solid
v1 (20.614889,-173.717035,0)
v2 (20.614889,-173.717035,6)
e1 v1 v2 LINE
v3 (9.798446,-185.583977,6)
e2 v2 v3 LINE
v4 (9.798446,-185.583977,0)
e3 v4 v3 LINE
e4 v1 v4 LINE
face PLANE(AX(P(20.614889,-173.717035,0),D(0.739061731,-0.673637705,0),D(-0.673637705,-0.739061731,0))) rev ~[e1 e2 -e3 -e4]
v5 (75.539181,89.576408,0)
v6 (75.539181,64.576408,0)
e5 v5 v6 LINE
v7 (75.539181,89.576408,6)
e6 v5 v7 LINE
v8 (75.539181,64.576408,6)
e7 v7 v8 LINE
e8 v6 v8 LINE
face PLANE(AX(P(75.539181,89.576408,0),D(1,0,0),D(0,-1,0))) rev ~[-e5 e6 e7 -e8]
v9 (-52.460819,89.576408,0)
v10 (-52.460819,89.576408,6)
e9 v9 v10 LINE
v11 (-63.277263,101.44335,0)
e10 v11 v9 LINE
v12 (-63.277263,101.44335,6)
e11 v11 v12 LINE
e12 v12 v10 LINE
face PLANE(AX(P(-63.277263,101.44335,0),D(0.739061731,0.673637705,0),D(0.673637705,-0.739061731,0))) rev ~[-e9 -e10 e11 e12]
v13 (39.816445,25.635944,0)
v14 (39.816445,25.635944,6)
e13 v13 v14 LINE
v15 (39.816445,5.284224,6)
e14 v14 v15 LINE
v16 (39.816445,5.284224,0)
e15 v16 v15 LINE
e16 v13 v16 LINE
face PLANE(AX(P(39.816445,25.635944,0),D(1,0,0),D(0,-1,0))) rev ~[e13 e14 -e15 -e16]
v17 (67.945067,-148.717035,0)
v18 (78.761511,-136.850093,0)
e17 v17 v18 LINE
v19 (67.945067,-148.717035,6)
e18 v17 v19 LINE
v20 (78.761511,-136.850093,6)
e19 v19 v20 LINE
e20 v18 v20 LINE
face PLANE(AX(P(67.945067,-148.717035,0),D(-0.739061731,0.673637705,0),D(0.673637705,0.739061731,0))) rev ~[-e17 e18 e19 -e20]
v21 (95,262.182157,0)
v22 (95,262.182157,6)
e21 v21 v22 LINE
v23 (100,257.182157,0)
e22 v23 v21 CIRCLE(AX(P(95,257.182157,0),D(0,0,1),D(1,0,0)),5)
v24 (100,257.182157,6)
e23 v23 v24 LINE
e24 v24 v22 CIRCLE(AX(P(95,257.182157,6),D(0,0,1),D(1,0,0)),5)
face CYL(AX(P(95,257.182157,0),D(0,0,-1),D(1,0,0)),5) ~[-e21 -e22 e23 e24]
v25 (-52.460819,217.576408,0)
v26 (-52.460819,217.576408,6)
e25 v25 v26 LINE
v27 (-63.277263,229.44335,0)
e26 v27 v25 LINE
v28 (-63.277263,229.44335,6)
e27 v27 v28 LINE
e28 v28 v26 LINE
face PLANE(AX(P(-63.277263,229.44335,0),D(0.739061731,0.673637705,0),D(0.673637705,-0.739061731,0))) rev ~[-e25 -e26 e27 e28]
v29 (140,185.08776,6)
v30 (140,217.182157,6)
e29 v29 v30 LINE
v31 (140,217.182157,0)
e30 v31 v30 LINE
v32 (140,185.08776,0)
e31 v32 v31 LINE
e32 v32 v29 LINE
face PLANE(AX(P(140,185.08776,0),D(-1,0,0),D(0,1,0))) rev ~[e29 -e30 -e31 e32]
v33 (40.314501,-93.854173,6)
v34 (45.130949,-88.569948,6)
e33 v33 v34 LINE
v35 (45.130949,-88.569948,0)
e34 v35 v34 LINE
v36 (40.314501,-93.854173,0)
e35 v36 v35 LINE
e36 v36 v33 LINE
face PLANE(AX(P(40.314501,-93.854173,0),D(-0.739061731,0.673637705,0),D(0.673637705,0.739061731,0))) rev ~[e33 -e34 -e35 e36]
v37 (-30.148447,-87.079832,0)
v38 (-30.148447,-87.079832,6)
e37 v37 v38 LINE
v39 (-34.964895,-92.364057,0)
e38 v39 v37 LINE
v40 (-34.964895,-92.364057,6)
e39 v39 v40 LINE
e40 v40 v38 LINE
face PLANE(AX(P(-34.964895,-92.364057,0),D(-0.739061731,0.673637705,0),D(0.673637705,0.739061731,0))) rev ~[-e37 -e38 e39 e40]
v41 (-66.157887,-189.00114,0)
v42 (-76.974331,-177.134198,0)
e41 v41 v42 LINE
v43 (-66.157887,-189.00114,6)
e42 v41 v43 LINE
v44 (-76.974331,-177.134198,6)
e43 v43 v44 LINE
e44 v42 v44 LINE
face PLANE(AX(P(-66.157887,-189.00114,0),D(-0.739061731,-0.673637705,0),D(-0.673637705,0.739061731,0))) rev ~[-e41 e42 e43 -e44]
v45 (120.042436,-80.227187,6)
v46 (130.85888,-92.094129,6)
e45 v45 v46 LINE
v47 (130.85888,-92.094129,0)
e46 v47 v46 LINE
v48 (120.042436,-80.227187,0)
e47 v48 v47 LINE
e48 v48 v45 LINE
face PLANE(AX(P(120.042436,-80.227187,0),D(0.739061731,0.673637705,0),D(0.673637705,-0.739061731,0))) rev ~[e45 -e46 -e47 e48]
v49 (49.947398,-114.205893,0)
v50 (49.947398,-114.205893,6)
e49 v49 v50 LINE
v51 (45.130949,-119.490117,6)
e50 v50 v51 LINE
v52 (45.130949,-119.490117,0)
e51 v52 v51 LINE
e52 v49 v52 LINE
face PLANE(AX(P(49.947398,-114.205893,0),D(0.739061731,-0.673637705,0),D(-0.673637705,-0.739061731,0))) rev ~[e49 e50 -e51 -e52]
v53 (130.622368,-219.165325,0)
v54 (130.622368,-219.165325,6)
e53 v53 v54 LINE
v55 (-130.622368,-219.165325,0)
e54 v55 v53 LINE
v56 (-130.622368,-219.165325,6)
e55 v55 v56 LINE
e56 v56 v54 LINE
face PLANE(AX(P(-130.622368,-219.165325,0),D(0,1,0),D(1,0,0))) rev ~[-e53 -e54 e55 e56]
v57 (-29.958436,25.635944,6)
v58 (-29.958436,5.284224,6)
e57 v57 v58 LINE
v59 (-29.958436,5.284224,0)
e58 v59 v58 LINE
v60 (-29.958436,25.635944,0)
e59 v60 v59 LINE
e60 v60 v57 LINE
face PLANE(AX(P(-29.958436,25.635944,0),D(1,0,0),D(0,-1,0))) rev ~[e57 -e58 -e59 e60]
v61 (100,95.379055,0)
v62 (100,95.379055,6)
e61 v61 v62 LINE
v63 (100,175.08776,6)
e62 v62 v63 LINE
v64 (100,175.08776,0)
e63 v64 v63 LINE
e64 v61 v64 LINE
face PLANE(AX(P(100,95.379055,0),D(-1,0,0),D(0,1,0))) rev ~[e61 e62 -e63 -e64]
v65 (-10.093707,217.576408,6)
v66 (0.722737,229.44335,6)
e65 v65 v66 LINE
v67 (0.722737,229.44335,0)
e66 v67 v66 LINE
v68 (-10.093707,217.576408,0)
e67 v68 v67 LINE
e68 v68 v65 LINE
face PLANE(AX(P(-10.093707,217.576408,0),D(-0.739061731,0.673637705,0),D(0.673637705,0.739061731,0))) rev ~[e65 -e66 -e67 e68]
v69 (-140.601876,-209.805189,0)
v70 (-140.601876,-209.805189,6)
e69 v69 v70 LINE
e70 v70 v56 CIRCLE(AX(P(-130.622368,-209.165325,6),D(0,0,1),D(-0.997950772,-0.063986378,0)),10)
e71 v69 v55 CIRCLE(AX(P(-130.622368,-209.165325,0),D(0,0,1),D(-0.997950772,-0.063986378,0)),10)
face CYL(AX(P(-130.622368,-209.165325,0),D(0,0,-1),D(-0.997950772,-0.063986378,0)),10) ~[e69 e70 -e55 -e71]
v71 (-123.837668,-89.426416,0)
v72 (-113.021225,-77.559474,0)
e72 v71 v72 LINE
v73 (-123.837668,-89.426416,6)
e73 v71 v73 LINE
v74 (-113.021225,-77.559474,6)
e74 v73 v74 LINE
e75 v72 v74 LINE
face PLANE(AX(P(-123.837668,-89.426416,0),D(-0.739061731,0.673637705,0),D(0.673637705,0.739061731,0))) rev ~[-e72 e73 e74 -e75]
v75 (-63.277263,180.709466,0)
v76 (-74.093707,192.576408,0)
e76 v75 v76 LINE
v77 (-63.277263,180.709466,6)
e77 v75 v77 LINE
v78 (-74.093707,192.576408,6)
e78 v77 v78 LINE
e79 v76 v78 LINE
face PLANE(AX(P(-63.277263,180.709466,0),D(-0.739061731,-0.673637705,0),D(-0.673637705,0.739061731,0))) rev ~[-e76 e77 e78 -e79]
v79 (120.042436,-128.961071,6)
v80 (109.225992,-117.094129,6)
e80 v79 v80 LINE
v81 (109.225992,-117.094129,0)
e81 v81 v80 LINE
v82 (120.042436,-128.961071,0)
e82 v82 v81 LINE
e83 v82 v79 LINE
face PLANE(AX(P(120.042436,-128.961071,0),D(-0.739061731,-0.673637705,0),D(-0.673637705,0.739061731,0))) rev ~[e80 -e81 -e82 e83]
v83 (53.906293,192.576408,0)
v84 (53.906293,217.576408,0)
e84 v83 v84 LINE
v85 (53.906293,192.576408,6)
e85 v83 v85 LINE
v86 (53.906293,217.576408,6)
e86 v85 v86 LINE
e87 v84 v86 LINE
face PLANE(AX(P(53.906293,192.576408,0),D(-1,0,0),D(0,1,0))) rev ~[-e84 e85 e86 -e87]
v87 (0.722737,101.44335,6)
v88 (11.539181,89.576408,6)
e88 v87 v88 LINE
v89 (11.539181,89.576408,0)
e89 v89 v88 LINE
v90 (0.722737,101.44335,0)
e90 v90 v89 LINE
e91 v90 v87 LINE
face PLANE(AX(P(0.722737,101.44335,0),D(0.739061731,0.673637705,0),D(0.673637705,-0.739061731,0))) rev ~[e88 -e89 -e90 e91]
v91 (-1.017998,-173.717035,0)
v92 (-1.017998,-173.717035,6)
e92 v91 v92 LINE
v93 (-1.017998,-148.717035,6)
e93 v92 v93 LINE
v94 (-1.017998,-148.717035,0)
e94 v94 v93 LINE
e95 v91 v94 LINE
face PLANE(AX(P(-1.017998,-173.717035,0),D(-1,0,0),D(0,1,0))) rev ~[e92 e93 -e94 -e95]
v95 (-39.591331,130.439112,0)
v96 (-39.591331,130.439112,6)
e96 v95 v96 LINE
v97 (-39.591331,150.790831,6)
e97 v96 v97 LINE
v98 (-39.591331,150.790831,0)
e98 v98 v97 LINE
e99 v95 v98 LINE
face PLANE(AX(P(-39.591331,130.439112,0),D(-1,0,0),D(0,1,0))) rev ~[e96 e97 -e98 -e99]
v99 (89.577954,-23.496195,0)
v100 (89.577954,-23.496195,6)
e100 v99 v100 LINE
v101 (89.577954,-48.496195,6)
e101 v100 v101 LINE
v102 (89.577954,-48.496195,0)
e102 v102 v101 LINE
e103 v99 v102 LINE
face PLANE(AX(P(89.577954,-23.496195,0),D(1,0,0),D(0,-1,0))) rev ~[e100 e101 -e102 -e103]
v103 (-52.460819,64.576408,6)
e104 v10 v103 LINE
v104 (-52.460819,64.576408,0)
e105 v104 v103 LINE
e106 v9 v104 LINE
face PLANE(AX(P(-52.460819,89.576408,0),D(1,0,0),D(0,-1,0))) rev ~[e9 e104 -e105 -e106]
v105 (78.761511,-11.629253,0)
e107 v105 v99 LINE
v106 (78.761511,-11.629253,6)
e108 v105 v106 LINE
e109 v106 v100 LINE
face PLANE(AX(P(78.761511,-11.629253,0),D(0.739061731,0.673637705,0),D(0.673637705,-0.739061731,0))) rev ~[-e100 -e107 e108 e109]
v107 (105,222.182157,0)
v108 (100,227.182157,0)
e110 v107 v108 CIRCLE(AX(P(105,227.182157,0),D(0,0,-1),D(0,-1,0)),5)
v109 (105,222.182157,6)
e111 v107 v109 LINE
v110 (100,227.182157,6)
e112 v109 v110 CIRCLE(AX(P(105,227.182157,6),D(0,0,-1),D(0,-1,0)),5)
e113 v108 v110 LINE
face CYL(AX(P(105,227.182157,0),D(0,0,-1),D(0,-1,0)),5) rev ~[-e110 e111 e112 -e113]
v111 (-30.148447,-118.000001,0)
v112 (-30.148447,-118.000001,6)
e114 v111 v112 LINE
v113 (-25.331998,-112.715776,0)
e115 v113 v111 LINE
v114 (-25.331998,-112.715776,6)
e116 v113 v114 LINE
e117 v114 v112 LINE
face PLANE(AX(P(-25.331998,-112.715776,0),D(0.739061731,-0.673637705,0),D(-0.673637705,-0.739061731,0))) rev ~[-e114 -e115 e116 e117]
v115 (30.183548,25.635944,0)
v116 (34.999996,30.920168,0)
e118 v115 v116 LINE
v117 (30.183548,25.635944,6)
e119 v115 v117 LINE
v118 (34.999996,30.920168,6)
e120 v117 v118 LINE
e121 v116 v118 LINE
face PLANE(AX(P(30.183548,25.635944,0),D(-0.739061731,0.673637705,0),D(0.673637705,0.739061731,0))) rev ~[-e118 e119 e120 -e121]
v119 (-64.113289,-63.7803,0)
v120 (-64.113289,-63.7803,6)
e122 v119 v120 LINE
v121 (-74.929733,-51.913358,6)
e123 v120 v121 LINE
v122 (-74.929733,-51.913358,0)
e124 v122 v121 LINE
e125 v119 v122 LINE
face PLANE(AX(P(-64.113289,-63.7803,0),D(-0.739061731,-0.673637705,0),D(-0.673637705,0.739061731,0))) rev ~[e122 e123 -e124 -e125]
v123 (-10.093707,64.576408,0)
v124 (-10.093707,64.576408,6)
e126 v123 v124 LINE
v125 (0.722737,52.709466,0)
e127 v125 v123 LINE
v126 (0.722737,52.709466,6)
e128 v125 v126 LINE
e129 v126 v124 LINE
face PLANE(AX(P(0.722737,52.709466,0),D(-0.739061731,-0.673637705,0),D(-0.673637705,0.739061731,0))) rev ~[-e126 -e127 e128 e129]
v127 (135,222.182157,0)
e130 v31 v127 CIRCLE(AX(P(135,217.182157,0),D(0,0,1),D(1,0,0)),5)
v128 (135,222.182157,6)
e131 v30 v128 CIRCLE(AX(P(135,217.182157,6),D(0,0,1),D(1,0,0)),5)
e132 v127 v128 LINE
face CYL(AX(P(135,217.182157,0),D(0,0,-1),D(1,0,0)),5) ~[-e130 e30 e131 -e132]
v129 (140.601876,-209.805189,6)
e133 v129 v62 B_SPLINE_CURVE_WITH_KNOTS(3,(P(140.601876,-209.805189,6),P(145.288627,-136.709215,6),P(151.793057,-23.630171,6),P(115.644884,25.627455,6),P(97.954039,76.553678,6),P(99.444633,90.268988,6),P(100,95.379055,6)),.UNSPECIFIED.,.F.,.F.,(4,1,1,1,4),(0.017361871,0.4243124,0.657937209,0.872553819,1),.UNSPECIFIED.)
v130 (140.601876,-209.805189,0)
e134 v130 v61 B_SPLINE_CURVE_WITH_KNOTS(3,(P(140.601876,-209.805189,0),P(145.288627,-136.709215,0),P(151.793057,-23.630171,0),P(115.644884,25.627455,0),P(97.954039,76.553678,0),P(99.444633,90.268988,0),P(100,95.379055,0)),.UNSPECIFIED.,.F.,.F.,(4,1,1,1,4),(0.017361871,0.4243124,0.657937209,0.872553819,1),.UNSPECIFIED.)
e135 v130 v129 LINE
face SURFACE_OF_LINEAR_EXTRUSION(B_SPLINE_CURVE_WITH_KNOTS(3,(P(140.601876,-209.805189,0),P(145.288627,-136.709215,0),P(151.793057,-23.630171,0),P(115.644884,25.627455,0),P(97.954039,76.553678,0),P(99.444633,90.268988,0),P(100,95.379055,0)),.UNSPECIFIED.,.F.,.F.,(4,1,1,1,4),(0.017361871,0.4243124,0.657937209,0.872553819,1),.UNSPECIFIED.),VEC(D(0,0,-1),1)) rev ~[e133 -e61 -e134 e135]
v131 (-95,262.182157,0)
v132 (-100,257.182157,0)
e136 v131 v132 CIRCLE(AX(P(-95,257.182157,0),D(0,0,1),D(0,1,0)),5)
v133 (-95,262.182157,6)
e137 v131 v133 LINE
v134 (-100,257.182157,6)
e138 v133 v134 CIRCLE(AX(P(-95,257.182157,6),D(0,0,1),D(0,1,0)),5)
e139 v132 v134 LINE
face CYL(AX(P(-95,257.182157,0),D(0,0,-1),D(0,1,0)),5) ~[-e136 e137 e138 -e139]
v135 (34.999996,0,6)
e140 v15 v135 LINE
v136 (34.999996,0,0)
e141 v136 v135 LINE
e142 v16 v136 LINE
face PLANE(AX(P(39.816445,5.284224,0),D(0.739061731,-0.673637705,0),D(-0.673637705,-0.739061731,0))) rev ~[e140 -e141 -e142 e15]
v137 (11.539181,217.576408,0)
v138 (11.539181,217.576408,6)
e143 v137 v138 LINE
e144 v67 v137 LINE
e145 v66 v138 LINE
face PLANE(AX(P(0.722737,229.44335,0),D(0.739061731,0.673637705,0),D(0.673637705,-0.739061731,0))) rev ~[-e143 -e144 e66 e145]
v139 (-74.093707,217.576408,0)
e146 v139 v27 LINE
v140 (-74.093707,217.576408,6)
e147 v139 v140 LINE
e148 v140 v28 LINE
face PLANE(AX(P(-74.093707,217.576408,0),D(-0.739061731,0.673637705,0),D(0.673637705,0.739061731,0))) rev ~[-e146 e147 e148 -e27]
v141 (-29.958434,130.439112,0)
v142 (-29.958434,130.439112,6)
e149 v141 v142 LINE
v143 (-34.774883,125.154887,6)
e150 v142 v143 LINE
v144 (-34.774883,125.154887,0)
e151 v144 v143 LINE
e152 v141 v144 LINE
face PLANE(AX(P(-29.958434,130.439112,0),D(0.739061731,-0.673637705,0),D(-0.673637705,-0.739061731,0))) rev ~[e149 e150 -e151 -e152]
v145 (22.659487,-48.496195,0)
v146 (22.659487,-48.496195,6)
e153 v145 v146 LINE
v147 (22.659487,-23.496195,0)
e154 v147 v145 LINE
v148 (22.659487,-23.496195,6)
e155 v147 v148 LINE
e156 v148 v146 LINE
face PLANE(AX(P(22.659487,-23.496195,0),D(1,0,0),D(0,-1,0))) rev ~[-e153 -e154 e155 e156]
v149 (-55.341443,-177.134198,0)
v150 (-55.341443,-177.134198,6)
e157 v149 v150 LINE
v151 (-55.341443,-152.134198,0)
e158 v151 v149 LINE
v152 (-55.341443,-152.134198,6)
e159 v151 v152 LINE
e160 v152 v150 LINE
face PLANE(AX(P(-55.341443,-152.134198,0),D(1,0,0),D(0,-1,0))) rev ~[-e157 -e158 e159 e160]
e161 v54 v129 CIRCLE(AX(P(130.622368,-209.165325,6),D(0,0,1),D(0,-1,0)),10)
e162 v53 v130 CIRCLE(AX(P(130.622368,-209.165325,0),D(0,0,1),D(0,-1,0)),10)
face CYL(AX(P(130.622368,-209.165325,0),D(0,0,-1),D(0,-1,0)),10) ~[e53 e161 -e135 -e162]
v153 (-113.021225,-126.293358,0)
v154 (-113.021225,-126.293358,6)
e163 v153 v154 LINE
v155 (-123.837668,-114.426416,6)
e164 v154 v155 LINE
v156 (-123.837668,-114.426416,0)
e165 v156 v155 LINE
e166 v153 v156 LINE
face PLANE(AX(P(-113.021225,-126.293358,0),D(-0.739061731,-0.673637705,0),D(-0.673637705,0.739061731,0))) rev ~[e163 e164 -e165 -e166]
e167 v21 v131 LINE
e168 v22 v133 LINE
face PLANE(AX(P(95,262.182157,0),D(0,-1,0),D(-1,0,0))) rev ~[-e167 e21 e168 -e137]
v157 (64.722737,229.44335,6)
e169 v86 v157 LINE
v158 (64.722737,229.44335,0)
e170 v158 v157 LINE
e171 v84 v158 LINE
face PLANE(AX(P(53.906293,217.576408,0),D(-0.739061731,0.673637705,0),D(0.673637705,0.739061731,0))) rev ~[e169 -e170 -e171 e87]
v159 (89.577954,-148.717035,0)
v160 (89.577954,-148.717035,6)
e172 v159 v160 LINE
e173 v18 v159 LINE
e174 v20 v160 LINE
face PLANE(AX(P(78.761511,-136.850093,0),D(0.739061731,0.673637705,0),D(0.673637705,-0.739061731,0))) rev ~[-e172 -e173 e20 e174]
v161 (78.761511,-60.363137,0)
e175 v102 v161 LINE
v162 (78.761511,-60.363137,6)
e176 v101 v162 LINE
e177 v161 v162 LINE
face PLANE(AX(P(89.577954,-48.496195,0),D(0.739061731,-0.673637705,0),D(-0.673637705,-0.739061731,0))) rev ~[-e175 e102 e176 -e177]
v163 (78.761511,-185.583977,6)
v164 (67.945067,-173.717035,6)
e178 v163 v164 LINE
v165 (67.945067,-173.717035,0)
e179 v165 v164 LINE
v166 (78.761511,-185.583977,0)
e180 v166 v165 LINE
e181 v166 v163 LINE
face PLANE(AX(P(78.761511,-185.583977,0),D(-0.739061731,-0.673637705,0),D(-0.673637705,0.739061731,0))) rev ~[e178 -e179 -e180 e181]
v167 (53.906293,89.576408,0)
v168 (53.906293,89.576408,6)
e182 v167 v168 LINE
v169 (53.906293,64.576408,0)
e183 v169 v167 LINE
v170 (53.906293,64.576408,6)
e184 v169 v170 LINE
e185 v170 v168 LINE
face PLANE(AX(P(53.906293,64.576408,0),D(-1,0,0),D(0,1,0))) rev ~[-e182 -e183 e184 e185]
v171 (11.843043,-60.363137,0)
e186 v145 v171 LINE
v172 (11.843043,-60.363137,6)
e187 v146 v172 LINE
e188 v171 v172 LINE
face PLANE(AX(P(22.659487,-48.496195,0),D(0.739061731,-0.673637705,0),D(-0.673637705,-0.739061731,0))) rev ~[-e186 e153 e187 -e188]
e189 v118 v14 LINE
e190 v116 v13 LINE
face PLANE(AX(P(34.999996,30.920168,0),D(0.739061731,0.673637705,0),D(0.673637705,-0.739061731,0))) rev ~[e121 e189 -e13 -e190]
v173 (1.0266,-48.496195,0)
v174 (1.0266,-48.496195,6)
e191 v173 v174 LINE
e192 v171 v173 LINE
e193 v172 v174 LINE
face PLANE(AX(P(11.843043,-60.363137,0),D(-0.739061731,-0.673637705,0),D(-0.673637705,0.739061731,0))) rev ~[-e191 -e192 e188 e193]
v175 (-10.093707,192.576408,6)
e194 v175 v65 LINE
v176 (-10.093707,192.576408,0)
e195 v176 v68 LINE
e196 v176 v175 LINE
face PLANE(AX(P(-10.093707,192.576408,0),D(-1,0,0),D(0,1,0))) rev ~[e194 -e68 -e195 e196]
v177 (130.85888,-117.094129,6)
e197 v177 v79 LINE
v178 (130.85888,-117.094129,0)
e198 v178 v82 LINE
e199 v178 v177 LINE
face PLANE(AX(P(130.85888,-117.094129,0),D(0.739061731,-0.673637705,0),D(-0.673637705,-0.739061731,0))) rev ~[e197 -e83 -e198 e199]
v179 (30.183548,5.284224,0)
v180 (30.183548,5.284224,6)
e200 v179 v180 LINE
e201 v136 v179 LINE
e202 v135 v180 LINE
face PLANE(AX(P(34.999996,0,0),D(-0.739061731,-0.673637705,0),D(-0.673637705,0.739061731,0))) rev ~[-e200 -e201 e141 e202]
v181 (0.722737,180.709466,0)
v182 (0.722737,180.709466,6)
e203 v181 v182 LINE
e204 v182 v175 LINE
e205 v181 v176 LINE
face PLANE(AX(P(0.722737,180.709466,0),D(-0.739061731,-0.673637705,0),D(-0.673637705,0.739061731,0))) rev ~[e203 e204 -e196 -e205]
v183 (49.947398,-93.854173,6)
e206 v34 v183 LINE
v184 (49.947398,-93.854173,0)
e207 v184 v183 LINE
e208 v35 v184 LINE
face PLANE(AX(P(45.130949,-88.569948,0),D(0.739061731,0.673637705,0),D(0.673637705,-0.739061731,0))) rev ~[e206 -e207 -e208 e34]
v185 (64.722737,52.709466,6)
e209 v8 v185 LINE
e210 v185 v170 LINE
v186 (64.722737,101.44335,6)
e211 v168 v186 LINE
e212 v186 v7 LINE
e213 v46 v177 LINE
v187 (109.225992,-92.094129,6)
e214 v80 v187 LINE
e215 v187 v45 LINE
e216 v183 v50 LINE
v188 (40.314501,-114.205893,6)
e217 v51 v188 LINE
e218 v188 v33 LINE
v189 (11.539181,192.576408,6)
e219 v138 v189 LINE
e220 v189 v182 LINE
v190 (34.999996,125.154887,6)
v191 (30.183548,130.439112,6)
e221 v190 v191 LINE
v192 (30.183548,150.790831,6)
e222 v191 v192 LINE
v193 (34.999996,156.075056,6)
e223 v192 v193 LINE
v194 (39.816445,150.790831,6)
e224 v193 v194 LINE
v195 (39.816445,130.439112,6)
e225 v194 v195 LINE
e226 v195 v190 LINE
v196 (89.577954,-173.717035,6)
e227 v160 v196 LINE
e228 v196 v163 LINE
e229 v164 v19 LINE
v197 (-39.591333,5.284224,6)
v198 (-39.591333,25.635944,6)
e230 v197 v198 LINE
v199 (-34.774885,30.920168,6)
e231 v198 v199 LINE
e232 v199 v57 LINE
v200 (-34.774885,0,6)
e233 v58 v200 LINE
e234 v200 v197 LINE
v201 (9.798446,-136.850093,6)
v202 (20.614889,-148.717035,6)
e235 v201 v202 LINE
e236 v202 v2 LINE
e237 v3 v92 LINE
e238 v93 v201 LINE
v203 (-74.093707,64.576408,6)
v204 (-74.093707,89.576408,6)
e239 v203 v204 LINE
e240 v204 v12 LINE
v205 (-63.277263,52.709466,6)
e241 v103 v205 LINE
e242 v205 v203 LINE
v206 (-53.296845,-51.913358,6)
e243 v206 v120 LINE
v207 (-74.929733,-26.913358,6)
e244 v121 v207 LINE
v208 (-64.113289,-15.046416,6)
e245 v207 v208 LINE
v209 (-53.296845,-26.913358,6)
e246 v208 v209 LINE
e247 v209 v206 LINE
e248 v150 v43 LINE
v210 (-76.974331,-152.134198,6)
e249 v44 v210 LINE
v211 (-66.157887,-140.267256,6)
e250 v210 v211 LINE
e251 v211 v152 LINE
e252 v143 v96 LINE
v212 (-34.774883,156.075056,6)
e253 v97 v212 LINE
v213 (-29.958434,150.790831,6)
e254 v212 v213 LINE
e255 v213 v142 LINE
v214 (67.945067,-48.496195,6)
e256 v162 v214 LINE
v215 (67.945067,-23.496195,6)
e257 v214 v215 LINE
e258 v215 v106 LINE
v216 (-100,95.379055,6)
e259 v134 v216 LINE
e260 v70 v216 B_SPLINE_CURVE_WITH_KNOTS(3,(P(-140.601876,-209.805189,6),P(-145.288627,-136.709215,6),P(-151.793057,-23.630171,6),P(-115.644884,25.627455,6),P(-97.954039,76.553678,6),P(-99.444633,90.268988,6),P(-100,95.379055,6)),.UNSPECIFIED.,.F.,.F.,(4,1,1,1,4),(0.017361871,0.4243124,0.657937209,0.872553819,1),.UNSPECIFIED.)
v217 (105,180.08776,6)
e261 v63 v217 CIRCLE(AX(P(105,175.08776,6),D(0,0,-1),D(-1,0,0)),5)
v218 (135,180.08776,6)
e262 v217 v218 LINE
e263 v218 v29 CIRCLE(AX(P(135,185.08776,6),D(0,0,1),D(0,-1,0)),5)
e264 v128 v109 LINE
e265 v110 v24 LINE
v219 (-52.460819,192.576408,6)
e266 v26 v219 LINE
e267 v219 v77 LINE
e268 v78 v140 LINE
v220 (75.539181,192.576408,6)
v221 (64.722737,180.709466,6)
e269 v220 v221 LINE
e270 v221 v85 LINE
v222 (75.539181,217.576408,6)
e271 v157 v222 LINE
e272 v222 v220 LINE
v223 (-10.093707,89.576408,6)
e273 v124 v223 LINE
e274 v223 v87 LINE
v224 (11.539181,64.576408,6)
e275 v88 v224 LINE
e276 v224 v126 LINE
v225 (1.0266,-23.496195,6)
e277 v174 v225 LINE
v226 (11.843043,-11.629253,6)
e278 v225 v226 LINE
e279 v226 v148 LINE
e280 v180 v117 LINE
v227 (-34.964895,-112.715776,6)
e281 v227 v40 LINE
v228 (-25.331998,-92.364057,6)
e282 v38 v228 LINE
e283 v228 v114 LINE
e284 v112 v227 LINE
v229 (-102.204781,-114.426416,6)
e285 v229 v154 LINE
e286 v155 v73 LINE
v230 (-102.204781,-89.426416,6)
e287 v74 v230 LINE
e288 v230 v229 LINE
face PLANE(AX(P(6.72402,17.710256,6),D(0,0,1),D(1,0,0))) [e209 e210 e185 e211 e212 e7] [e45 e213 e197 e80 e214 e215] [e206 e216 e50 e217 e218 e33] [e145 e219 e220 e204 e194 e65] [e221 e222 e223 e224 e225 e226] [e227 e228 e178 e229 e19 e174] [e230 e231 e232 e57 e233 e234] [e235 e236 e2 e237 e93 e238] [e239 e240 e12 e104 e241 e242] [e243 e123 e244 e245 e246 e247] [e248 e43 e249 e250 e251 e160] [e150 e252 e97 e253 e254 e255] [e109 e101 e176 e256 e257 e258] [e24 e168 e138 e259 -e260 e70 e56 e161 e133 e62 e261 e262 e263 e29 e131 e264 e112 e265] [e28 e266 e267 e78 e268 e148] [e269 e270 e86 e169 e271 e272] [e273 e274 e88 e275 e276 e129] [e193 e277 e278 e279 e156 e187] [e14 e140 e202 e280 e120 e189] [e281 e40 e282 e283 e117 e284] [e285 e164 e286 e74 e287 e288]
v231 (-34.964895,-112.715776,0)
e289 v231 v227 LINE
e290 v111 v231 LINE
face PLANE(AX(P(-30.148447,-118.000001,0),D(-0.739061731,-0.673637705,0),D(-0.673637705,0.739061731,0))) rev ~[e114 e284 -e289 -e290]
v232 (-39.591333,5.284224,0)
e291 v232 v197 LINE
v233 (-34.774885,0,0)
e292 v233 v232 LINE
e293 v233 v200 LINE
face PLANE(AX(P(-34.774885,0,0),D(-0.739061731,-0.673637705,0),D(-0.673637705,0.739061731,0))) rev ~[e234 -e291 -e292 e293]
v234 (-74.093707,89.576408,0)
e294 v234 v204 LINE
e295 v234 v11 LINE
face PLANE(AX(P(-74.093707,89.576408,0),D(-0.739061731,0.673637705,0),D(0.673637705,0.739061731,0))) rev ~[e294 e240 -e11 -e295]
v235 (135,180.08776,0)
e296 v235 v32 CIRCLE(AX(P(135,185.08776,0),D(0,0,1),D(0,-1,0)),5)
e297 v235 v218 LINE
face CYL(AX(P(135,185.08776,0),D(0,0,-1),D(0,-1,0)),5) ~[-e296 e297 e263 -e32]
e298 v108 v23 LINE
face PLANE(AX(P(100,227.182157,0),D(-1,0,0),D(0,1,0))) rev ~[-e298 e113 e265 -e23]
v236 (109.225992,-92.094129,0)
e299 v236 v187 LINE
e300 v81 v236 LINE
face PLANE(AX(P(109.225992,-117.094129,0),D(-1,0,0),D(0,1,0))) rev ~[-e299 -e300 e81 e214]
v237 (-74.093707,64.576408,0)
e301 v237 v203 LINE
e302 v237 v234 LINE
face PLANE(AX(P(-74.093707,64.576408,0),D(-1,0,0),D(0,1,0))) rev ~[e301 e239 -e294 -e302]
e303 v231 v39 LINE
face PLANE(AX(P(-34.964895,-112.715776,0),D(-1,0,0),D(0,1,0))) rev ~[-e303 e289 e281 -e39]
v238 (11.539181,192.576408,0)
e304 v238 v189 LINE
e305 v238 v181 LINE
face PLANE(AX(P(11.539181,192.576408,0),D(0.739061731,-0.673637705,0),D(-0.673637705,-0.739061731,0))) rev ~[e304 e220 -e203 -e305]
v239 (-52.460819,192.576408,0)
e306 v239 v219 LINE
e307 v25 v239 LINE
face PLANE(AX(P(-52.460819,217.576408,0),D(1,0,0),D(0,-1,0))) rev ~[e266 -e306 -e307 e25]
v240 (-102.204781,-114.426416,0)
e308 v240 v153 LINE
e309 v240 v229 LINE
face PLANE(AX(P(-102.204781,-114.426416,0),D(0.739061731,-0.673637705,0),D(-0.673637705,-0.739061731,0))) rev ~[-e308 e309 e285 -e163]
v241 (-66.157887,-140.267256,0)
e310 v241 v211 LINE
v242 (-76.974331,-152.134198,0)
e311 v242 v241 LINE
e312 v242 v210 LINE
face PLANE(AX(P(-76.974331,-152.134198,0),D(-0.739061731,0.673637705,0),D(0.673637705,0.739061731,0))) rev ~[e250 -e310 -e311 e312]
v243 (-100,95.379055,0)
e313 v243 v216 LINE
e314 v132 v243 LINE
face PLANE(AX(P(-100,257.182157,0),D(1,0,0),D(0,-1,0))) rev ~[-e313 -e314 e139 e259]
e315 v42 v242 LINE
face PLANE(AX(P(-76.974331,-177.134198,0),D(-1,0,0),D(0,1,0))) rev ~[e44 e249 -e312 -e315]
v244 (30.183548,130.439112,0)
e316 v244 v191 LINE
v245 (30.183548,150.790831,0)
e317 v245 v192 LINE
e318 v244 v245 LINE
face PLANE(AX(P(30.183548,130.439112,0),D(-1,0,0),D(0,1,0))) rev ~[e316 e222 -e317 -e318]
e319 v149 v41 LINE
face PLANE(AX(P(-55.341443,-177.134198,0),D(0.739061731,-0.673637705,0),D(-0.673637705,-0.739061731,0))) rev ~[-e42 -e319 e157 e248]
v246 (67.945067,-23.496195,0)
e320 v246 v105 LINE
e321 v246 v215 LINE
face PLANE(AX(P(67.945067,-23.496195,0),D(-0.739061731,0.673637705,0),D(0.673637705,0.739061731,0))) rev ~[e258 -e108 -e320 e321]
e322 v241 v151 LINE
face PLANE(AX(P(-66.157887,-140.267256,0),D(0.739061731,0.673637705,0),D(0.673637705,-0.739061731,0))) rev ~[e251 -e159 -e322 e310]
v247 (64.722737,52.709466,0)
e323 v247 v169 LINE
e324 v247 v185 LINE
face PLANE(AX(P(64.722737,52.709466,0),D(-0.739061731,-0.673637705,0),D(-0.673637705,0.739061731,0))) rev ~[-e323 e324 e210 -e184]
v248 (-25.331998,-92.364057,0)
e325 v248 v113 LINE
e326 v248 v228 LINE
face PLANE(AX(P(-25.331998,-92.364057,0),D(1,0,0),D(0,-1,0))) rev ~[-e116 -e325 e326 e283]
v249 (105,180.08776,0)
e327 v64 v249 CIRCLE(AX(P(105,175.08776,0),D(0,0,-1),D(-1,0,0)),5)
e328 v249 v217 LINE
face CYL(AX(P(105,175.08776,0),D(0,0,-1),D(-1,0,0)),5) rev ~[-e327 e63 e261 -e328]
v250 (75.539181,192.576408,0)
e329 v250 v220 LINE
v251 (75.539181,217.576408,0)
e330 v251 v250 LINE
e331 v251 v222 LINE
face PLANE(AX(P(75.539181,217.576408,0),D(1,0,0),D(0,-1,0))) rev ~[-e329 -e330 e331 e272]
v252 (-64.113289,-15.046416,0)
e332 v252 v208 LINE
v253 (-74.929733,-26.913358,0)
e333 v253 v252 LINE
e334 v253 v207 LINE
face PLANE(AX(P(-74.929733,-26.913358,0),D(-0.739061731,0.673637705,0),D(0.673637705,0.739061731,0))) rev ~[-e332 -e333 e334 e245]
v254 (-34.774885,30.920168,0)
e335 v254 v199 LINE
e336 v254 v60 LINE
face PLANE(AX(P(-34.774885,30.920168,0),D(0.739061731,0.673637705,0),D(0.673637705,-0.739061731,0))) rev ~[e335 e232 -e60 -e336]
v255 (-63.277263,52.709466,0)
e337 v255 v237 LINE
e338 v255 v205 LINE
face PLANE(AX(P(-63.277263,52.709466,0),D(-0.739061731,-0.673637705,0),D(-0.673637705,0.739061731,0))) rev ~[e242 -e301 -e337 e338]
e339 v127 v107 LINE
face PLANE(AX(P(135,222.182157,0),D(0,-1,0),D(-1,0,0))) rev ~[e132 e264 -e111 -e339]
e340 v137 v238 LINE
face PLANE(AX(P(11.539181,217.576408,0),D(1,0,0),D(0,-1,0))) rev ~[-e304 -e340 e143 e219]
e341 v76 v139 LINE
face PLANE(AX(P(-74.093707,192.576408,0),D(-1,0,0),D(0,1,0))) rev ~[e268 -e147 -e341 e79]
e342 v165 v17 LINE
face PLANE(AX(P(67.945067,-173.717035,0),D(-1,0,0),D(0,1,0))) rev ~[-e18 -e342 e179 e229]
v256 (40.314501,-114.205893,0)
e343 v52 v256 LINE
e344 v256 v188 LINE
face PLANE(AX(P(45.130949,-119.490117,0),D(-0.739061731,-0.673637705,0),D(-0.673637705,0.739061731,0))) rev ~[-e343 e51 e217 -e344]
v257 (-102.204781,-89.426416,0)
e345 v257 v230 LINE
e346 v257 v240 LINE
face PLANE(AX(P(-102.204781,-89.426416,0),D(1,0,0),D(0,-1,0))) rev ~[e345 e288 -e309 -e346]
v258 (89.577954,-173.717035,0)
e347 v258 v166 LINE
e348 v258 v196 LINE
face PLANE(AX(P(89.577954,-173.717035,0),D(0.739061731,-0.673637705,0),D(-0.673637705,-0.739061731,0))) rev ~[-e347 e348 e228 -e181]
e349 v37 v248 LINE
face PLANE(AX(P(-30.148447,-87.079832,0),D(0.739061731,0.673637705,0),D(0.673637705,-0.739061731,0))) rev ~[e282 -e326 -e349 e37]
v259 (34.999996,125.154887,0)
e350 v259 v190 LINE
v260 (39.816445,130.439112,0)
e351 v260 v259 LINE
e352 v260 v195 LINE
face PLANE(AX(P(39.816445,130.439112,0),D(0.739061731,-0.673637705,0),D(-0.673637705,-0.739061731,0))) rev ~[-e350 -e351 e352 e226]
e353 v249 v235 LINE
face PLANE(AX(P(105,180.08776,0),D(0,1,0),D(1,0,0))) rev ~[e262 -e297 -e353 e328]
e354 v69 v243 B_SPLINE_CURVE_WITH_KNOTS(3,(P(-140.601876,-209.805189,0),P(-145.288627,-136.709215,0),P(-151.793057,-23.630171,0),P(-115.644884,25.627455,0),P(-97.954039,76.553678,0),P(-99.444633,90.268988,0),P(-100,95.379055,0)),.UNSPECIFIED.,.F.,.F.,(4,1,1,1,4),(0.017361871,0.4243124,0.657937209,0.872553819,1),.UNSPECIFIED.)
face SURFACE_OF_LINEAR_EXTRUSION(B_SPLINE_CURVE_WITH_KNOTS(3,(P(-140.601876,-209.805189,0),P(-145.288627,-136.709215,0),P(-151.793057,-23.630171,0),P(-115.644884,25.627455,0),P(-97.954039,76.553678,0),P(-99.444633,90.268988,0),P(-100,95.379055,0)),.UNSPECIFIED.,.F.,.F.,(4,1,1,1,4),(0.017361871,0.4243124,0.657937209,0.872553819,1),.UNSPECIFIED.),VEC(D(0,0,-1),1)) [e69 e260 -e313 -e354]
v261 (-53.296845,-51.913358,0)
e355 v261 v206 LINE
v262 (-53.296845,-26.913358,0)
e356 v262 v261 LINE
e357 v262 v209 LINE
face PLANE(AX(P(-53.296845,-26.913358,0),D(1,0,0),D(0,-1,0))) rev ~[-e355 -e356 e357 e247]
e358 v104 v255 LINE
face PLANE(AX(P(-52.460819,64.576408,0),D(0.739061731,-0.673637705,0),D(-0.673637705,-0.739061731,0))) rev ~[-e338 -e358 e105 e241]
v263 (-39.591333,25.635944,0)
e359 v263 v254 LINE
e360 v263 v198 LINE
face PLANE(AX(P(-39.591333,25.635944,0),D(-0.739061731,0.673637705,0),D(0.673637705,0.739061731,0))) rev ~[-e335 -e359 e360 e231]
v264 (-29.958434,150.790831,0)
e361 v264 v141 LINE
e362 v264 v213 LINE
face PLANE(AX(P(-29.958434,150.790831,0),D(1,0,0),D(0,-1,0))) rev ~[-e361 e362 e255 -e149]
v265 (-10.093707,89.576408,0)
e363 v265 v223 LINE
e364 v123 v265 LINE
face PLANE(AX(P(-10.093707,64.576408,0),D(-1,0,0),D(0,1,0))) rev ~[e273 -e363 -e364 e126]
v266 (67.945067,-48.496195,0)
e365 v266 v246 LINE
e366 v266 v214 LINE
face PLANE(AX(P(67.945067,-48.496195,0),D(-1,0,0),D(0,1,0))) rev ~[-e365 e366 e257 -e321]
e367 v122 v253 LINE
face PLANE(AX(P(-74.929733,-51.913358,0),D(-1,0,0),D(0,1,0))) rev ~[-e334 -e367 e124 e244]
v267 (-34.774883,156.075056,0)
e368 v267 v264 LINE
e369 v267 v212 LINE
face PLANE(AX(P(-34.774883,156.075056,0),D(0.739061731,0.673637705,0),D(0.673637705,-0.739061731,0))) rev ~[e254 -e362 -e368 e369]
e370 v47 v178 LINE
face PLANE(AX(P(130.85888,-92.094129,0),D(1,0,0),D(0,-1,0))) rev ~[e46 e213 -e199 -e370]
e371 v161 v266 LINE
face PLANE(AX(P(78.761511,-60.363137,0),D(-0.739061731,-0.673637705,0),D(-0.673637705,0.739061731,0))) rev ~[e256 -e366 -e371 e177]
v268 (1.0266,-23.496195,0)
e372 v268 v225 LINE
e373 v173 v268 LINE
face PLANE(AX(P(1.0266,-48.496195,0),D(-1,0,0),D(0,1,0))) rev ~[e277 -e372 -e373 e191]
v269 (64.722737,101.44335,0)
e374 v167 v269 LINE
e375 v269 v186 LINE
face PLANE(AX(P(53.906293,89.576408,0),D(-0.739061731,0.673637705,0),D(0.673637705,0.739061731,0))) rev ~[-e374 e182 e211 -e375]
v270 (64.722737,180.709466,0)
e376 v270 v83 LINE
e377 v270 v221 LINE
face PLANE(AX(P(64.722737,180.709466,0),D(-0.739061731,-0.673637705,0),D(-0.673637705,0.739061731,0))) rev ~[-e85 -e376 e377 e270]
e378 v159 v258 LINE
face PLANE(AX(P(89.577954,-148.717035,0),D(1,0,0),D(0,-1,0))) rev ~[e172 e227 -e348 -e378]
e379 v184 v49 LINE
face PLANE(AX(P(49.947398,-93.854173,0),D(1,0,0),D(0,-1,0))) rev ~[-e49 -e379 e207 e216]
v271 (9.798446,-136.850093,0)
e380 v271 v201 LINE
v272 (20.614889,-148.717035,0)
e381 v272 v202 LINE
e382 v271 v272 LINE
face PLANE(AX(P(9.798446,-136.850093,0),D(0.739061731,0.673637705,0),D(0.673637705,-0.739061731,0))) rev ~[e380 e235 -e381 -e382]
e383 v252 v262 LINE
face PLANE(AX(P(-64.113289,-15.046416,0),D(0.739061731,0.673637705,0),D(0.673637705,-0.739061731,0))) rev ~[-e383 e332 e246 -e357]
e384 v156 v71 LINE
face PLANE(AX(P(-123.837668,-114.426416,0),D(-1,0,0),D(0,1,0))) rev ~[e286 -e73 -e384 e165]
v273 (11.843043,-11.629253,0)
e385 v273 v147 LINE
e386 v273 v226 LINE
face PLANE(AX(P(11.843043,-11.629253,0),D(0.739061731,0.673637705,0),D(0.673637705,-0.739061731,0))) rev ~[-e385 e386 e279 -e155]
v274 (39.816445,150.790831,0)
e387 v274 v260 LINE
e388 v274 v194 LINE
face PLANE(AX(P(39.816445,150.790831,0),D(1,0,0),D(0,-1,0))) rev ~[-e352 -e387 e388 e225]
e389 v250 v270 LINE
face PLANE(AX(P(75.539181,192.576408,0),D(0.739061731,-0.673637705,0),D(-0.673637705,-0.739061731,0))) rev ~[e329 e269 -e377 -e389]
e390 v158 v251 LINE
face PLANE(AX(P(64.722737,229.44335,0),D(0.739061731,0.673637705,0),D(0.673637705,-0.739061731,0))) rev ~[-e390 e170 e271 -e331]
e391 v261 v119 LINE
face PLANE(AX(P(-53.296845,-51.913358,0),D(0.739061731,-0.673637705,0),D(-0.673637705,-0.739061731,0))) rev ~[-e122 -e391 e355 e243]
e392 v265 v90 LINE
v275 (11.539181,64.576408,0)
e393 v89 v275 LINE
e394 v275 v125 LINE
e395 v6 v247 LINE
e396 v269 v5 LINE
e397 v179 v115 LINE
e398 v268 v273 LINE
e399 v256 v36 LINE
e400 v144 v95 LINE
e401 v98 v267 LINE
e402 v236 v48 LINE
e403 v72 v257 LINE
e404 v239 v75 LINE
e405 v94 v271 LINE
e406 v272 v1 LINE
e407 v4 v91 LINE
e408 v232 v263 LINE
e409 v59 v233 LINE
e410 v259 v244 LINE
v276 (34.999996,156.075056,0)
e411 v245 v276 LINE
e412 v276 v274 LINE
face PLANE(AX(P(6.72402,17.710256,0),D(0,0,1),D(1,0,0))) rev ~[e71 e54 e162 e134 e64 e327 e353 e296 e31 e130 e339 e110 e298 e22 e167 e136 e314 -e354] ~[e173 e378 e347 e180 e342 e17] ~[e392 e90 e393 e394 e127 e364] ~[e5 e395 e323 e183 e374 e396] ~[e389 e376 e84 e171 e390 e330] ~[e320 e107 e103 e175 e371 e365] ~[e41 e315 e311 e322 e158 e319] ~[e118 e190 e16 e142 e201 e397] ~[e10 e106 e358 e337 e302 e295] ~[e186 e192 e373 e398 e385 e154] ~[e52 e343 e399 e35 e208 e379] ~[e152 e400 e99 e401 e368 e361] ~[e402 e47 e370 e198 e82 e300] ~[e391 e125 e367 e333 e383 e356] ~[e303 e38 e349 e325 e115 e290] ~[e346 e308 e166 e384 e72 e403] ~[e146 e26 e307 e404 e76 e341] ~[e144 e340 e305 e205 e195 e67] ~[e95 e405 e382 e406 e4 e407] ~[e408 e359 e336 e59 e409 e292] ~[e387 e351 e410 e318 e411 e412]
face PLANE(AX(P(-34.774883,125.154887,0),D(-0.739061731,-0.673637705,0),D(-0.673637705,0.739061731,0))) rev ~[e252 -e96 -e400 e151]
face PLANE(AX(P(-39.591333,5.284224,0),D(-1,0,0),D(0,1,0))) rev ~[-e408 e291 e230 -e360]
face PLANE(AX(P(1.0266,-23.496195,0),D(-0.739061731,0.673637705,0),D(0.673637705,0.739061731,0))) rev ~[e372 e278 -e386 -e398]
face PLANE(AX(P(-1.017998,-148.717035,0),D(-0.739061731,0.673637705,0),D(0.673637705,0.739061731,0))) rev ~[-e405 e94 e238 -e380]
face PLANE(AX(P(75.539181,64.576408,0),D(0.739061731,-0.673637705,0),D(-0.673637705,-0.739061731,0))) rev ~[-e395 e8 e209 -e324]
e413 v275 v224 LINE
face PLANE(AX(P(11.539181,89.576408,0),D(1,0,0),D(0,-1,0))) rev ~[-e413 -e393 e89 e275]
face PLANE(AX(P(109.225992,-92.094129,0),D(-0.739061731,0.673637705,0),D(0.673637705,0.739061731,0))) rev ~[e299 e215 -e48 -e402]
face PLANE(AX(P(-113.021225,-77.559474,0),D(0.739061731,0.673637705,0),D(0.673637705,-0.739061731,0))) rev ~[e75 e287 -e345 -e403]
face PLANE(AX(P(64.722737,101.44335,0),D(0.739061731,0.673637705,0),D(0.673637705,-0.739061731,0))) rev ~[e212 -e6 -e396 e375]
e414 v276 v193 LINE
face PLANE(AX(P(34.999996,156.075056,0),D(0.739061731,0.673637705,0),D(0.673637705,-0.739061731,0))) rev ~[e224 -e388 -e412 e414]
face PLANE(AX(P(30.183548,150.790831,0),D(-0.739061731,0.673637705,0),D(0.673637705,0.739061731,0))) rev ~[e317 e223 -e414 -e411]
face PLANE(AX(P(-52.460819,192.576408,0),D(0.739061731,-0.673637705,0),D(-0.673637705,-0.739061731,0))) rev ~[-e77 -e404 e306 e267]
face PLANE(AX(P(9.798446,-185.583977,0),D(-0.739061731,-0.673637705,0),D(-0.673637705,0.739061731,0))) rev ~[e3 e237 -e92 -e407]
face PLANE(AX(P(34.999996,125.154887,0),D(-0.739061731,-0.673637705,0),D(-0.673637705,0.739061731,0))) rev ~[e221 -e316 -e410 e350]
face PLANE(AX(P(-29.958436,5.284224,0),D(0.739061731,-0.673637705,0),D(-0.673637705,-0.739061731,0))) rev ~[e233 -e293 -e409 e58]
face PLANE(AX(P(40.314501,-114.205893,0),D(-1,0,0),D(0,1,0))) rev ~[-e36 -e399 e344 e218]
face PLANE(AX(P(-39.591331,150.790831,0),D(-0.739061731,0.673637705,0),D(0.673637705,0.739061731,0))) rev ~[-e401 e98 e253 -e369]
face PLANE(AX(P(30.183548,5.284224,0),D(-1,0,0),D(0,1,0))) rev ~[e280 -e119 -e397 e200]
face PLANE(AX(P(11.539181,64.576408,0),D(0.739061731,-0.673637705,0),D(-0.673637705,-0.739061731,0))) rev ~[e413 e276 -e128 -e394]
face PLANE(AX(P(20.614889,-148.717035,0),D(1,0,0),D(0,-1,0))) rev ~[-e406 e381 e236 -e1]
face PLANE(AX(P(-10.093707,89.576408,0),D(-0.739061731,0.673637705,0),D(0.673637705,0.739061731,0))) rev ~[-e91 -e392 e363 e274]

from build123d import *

# Parameters (mm, degrees)
F1_DEPTH = 6


with BuildPart() as f1:
    # F0 (on Top) → F1 (new body)
    with BuildSketch(Plane.XY):
        with BuildLine():
            Line((95, 262.1821570396), (0, 262.1821570396))
            Line((0, 262.1821570396), (-95, 262.1821570396))
            ThreePointArc((-95, 262.1821570396), (-98.5355339059, 260.7176909456), (-100, 257.1821570396))
            Line((-100, 257.1821570396), (-100, 95.3790545464))
            add(Edge.make_bspline(
                [(-140.6018761806, -209.8051889464), (-145.28862702, -136.7092151999), (-151.7930566351, -23.6301706956), (-115.64488398, 25.6274545282), (-97.9540393108, 76.553678361), (-99.4446328149, 90.2689875565), (-100, 95.3790545464)],
                knots=[0.0173618711, 0.0173618711, 0.0173618711, 0.0173618711, 0.4243124, 0.6579372091, 0.8725538192, 1, 1, 1, 1], degree=3))
            ThreePointArc((-140.6018761806, -209.8051889464), (-137.4634707904, -216.4591114866), (-130.6223684602, -219.1653251648))
            Line((-130.6223684602, -219.1653251648), (130.6223684602, -219.1653251648))
            ThreePointArc((130.6223684602, -219.1653251648), (137.4634707904, -216.4591114866), (140.6018761806, -209.8051889464))
            add(Edge.make_bspline(
                [(140.6018761806, -209.8051889464), (145.28862702, -136.7092151999), (151.7930566351, -23.6301706956), (115.64488398, 25.6274545282), (97.9540393108, 76.553678361), (99.4446328149, 90.2689875565), (100, 95.3790545464)],
                knots=[0.0173618711, 0.0173618711, 0.0173618711, 0.0173618711, 0.4243124, 0.6579372091, 0.8725538192, 1, 1, 1, 1], degree=3))
            Line((100, 95.3790545464), (100, 175.0877600908))
            ThreePointArc((100, 175.0877600908), (101.4644660941, 178.6232939968), (105, 180.0877600908))
            Line((105, 180.0877600908), (135, 180.0877600908))
            ThreePointArc((135, 180.0877600908), (138.5355339059, 181.5522261849), (140, 185.0877600908))
            Line((140, 185.0877600908), (140, 217.1821570396))
            ThreePointArc((140, 217.1821570396), (138.5355339059, 220.7176909456), (135, 222.1821570396))
            Line((135, 222.1821570396), (105, 222.1821570396))
            ThreePointArc((105, 222.1821570396), (101.4644660941, 223.6466231337), (100, 227.1821570396))
            Line((100, 227.1821570396), (100, 257.1821570396))
            ThreePointArc((100, 257.1821570396), (98.5355339059, 260.7176909456), (95, 262.1821570396))
        make_face()
        Polygon((-113.0212247372, -77.5594741106), (-102.2047810256, -89.4264161587), (-102.2047810256, -114.4264161587), (-113.0212247372, -126.2933582067), (-123.8376684487, -114.4264161587), (-123.8376684487, -89.4264161587), align=None, mode=Mode.SUBTRACT)
        Polygon((-76.974330689, -177.1341983843), (-76.974330689, -152.1341983843), (-66.1578869775, -140.2672563362), (-55.3414432659, -152.1341983843), (-55.3414432659, -177.1341983843), (-66.1578869775, -189.0011404323), align=None, mode=Mode.SUBTRACT)
        Polygon((-34.964894978, -112.7157764564), (-34.964894978, -92.3640566064), (-30.1484465599, -87.0798323475), (-25.3319981418, -92.3640566064), (-25.3319981418, -112.7157764564), (-30.1484465599, -118.0000007153), align=None, mode=Mode.SUBTRACT)
        Polygon((-64.1132891178, -15.046416223), (-53.2968454063, -26.9133582711), (-53.2968454063, -51.9133582711), (-64.1132891178, -63.7803003192), (-74.9297328293, -51.9133582711), (-74.9297328293, -26.9133582711), align=None, mode=Mode.SUBTRACT)
        Polygon((-39.5913329997, 5.2842242589), (-39.5913329997, 25.6359441089), (-34.7748845816, 30.9201683677), (-29.9584361635, 25.6359441089), (-29.9584361635, 5.2842242589), (-34.7748845816, 0), align=None, mode=Mode.SUBTRACT)
        Polygon((-1.0179981434, -173.7170352519), (-1.0179981434, -148.7170352519), (9.7984455681, -136.8500932038), (20.6148892796, -148.7170352519), (20.6148892796, -173.7170352519), (9.7984455681, -185.5839772999), align=None, mode=Mode.SUBTRACT)
        Polygon((40.3145010493, -114.2058925758), (40.3145010493, -93.8541727258), (45.1309494674, -88.5699484669), (49.9473978855, -93.8541727258), (49.9473978855, -114.2058925758), (45.1309494674, -119.4901168346), align=None, mode=Mode.SUBTRACT)
        Polygon((78.761510551, -136.8500932038), (89.5779542625, -148.7170352519), (89.5779542625, -173.7170352519), (78.761510551, -185.5839772999), (67.9450668395, -173.7170352519), (67.9450668395, -148.7170352519), align=None, mode=Mode.SUBTRACT)
        Polygon((120.0424358249, -80.2271872759), (130.8588795364, -92.094129324), (130.8588795364, -117.094129324), (120.0424358249, -128.961071372), (109.2259921134, -117.094129324), (109.2259921134, -92.094129324), align=None, mode=Mode.SUBTRACT)
        Polygon((1.0265997163, -48.4961951387), (1.0265997163, -23.4961951387), (11.8430434278, -11.6292530907), (22.6594871393, -23.4961951387), (22.6594871393, -48.4961951387), (11.8430434278, -60.3631371868), align=None, mode=Mode.SUBTRACT)
        Polygon((30.1835480056, 5.2842242589), (30.1835480056, 25.6359441089), (34.9999964237, 30.9201683677), (39.8164448418, 25.6359441089), (39.8164448418, 5.2842242589), (34.9999964237, 0), align=None, mode=Mode.SUBTRACT)
        Polygon((78.761510551, -11.6292530907), (89.5779542625, -23.4961951387), (89.5779542625, -48.4961951387), (78.761510551, -60.3631371868), (67.9450668395, -48.4961951387), (67.9450668395, -23.4961951387), align=None, mode=Mode.SUBTRACT)
        Polygon((-74.0937069058, 64.5764083862), (-74.0937069058, 89.5764083862), (-63.2772631943, 101.4433504343), (-52.4608194828, 89.5764083862), (-52.4608194828, 64.5764083862), (-63.2772631943, 52.7094663382), align=None, mode=Mode.SUBTRACT)
        Polygon((-39.591331137, 130.4391115935), (-39.591331137, 150.7908314435), (-34.7748827189, 156.0750557024), (-29.9584343008, 150.7908314435), (-29.9584343008, 130.4391115935), (-34.7748827189, 125.1548873346), align=None, mode=Mode.SUBTRACT)
        Polygon((-63.2772631943, 229.4433504343), (-52.4608194828, 217.5764083862), (-52.4608194828, 192.5764083862), (-63.2772631943, 180.7094663382), (-74.0937069058, 192.5764083862), (-74.0937069058, 217.5764083862), align=None, mode=Mode.SUBTRACT)
        Polygon((-10.0937069058, 64.5764083862), (-10.0937069058, 89.5764083862), (0.7227368057, 101.4433504343), (11.5391805172, 89.5764083862), (11.5391805172, 64.5764083862), (0.7227368057, 52.7094663382), align=None, mode=Mode.SUBTRACT)
        Polygon((53.9062930942, 64.5764083862), (53.9062930942, 89.5764083862), (64.7227368057, 101.4433504343), (75.5391805172, 89.5764083862), (75.5391805172, 64.5764083862), (64.7227368057, 52.7094663382), align=None, mode=Mode.SUBTRACT)
        Polygon((30.1835480056, 130.4391115935), (30.1835480056, 150.7908314435), (34.9999964237, 156.0750557024), (39.8164448418, 150.7908314435), (39.8164448418, 130.4391115935), (34.9999964237, 125.1548873346), align=None, mode=Mode.SUBTRACT)
        Polygon((-10.0937069058, 192.5764083862), (-10.0937069058, 217.5764083862), (0.7227368057, 229.4433504343), (11.5391805172, 217.5764083862), (11.5391805172, 192.5764083862), (0.7227368057, 180.7094663382), align=None, mode=Mode.SUBTRACT)
        Polygon((53.9062930942, 192.5764083862), (53.9062930942, 217.5764083862), (64.7227368057, 229.4433504343), (75.5391805172, 217.5764083862), (75.5391805172, 192.5764083862), (64.7227368057, 180.7094663382), align=None, mode=Mode.SUBTRACT)
    extrude(amount=F1_DEPTH)


solid = f1.part
